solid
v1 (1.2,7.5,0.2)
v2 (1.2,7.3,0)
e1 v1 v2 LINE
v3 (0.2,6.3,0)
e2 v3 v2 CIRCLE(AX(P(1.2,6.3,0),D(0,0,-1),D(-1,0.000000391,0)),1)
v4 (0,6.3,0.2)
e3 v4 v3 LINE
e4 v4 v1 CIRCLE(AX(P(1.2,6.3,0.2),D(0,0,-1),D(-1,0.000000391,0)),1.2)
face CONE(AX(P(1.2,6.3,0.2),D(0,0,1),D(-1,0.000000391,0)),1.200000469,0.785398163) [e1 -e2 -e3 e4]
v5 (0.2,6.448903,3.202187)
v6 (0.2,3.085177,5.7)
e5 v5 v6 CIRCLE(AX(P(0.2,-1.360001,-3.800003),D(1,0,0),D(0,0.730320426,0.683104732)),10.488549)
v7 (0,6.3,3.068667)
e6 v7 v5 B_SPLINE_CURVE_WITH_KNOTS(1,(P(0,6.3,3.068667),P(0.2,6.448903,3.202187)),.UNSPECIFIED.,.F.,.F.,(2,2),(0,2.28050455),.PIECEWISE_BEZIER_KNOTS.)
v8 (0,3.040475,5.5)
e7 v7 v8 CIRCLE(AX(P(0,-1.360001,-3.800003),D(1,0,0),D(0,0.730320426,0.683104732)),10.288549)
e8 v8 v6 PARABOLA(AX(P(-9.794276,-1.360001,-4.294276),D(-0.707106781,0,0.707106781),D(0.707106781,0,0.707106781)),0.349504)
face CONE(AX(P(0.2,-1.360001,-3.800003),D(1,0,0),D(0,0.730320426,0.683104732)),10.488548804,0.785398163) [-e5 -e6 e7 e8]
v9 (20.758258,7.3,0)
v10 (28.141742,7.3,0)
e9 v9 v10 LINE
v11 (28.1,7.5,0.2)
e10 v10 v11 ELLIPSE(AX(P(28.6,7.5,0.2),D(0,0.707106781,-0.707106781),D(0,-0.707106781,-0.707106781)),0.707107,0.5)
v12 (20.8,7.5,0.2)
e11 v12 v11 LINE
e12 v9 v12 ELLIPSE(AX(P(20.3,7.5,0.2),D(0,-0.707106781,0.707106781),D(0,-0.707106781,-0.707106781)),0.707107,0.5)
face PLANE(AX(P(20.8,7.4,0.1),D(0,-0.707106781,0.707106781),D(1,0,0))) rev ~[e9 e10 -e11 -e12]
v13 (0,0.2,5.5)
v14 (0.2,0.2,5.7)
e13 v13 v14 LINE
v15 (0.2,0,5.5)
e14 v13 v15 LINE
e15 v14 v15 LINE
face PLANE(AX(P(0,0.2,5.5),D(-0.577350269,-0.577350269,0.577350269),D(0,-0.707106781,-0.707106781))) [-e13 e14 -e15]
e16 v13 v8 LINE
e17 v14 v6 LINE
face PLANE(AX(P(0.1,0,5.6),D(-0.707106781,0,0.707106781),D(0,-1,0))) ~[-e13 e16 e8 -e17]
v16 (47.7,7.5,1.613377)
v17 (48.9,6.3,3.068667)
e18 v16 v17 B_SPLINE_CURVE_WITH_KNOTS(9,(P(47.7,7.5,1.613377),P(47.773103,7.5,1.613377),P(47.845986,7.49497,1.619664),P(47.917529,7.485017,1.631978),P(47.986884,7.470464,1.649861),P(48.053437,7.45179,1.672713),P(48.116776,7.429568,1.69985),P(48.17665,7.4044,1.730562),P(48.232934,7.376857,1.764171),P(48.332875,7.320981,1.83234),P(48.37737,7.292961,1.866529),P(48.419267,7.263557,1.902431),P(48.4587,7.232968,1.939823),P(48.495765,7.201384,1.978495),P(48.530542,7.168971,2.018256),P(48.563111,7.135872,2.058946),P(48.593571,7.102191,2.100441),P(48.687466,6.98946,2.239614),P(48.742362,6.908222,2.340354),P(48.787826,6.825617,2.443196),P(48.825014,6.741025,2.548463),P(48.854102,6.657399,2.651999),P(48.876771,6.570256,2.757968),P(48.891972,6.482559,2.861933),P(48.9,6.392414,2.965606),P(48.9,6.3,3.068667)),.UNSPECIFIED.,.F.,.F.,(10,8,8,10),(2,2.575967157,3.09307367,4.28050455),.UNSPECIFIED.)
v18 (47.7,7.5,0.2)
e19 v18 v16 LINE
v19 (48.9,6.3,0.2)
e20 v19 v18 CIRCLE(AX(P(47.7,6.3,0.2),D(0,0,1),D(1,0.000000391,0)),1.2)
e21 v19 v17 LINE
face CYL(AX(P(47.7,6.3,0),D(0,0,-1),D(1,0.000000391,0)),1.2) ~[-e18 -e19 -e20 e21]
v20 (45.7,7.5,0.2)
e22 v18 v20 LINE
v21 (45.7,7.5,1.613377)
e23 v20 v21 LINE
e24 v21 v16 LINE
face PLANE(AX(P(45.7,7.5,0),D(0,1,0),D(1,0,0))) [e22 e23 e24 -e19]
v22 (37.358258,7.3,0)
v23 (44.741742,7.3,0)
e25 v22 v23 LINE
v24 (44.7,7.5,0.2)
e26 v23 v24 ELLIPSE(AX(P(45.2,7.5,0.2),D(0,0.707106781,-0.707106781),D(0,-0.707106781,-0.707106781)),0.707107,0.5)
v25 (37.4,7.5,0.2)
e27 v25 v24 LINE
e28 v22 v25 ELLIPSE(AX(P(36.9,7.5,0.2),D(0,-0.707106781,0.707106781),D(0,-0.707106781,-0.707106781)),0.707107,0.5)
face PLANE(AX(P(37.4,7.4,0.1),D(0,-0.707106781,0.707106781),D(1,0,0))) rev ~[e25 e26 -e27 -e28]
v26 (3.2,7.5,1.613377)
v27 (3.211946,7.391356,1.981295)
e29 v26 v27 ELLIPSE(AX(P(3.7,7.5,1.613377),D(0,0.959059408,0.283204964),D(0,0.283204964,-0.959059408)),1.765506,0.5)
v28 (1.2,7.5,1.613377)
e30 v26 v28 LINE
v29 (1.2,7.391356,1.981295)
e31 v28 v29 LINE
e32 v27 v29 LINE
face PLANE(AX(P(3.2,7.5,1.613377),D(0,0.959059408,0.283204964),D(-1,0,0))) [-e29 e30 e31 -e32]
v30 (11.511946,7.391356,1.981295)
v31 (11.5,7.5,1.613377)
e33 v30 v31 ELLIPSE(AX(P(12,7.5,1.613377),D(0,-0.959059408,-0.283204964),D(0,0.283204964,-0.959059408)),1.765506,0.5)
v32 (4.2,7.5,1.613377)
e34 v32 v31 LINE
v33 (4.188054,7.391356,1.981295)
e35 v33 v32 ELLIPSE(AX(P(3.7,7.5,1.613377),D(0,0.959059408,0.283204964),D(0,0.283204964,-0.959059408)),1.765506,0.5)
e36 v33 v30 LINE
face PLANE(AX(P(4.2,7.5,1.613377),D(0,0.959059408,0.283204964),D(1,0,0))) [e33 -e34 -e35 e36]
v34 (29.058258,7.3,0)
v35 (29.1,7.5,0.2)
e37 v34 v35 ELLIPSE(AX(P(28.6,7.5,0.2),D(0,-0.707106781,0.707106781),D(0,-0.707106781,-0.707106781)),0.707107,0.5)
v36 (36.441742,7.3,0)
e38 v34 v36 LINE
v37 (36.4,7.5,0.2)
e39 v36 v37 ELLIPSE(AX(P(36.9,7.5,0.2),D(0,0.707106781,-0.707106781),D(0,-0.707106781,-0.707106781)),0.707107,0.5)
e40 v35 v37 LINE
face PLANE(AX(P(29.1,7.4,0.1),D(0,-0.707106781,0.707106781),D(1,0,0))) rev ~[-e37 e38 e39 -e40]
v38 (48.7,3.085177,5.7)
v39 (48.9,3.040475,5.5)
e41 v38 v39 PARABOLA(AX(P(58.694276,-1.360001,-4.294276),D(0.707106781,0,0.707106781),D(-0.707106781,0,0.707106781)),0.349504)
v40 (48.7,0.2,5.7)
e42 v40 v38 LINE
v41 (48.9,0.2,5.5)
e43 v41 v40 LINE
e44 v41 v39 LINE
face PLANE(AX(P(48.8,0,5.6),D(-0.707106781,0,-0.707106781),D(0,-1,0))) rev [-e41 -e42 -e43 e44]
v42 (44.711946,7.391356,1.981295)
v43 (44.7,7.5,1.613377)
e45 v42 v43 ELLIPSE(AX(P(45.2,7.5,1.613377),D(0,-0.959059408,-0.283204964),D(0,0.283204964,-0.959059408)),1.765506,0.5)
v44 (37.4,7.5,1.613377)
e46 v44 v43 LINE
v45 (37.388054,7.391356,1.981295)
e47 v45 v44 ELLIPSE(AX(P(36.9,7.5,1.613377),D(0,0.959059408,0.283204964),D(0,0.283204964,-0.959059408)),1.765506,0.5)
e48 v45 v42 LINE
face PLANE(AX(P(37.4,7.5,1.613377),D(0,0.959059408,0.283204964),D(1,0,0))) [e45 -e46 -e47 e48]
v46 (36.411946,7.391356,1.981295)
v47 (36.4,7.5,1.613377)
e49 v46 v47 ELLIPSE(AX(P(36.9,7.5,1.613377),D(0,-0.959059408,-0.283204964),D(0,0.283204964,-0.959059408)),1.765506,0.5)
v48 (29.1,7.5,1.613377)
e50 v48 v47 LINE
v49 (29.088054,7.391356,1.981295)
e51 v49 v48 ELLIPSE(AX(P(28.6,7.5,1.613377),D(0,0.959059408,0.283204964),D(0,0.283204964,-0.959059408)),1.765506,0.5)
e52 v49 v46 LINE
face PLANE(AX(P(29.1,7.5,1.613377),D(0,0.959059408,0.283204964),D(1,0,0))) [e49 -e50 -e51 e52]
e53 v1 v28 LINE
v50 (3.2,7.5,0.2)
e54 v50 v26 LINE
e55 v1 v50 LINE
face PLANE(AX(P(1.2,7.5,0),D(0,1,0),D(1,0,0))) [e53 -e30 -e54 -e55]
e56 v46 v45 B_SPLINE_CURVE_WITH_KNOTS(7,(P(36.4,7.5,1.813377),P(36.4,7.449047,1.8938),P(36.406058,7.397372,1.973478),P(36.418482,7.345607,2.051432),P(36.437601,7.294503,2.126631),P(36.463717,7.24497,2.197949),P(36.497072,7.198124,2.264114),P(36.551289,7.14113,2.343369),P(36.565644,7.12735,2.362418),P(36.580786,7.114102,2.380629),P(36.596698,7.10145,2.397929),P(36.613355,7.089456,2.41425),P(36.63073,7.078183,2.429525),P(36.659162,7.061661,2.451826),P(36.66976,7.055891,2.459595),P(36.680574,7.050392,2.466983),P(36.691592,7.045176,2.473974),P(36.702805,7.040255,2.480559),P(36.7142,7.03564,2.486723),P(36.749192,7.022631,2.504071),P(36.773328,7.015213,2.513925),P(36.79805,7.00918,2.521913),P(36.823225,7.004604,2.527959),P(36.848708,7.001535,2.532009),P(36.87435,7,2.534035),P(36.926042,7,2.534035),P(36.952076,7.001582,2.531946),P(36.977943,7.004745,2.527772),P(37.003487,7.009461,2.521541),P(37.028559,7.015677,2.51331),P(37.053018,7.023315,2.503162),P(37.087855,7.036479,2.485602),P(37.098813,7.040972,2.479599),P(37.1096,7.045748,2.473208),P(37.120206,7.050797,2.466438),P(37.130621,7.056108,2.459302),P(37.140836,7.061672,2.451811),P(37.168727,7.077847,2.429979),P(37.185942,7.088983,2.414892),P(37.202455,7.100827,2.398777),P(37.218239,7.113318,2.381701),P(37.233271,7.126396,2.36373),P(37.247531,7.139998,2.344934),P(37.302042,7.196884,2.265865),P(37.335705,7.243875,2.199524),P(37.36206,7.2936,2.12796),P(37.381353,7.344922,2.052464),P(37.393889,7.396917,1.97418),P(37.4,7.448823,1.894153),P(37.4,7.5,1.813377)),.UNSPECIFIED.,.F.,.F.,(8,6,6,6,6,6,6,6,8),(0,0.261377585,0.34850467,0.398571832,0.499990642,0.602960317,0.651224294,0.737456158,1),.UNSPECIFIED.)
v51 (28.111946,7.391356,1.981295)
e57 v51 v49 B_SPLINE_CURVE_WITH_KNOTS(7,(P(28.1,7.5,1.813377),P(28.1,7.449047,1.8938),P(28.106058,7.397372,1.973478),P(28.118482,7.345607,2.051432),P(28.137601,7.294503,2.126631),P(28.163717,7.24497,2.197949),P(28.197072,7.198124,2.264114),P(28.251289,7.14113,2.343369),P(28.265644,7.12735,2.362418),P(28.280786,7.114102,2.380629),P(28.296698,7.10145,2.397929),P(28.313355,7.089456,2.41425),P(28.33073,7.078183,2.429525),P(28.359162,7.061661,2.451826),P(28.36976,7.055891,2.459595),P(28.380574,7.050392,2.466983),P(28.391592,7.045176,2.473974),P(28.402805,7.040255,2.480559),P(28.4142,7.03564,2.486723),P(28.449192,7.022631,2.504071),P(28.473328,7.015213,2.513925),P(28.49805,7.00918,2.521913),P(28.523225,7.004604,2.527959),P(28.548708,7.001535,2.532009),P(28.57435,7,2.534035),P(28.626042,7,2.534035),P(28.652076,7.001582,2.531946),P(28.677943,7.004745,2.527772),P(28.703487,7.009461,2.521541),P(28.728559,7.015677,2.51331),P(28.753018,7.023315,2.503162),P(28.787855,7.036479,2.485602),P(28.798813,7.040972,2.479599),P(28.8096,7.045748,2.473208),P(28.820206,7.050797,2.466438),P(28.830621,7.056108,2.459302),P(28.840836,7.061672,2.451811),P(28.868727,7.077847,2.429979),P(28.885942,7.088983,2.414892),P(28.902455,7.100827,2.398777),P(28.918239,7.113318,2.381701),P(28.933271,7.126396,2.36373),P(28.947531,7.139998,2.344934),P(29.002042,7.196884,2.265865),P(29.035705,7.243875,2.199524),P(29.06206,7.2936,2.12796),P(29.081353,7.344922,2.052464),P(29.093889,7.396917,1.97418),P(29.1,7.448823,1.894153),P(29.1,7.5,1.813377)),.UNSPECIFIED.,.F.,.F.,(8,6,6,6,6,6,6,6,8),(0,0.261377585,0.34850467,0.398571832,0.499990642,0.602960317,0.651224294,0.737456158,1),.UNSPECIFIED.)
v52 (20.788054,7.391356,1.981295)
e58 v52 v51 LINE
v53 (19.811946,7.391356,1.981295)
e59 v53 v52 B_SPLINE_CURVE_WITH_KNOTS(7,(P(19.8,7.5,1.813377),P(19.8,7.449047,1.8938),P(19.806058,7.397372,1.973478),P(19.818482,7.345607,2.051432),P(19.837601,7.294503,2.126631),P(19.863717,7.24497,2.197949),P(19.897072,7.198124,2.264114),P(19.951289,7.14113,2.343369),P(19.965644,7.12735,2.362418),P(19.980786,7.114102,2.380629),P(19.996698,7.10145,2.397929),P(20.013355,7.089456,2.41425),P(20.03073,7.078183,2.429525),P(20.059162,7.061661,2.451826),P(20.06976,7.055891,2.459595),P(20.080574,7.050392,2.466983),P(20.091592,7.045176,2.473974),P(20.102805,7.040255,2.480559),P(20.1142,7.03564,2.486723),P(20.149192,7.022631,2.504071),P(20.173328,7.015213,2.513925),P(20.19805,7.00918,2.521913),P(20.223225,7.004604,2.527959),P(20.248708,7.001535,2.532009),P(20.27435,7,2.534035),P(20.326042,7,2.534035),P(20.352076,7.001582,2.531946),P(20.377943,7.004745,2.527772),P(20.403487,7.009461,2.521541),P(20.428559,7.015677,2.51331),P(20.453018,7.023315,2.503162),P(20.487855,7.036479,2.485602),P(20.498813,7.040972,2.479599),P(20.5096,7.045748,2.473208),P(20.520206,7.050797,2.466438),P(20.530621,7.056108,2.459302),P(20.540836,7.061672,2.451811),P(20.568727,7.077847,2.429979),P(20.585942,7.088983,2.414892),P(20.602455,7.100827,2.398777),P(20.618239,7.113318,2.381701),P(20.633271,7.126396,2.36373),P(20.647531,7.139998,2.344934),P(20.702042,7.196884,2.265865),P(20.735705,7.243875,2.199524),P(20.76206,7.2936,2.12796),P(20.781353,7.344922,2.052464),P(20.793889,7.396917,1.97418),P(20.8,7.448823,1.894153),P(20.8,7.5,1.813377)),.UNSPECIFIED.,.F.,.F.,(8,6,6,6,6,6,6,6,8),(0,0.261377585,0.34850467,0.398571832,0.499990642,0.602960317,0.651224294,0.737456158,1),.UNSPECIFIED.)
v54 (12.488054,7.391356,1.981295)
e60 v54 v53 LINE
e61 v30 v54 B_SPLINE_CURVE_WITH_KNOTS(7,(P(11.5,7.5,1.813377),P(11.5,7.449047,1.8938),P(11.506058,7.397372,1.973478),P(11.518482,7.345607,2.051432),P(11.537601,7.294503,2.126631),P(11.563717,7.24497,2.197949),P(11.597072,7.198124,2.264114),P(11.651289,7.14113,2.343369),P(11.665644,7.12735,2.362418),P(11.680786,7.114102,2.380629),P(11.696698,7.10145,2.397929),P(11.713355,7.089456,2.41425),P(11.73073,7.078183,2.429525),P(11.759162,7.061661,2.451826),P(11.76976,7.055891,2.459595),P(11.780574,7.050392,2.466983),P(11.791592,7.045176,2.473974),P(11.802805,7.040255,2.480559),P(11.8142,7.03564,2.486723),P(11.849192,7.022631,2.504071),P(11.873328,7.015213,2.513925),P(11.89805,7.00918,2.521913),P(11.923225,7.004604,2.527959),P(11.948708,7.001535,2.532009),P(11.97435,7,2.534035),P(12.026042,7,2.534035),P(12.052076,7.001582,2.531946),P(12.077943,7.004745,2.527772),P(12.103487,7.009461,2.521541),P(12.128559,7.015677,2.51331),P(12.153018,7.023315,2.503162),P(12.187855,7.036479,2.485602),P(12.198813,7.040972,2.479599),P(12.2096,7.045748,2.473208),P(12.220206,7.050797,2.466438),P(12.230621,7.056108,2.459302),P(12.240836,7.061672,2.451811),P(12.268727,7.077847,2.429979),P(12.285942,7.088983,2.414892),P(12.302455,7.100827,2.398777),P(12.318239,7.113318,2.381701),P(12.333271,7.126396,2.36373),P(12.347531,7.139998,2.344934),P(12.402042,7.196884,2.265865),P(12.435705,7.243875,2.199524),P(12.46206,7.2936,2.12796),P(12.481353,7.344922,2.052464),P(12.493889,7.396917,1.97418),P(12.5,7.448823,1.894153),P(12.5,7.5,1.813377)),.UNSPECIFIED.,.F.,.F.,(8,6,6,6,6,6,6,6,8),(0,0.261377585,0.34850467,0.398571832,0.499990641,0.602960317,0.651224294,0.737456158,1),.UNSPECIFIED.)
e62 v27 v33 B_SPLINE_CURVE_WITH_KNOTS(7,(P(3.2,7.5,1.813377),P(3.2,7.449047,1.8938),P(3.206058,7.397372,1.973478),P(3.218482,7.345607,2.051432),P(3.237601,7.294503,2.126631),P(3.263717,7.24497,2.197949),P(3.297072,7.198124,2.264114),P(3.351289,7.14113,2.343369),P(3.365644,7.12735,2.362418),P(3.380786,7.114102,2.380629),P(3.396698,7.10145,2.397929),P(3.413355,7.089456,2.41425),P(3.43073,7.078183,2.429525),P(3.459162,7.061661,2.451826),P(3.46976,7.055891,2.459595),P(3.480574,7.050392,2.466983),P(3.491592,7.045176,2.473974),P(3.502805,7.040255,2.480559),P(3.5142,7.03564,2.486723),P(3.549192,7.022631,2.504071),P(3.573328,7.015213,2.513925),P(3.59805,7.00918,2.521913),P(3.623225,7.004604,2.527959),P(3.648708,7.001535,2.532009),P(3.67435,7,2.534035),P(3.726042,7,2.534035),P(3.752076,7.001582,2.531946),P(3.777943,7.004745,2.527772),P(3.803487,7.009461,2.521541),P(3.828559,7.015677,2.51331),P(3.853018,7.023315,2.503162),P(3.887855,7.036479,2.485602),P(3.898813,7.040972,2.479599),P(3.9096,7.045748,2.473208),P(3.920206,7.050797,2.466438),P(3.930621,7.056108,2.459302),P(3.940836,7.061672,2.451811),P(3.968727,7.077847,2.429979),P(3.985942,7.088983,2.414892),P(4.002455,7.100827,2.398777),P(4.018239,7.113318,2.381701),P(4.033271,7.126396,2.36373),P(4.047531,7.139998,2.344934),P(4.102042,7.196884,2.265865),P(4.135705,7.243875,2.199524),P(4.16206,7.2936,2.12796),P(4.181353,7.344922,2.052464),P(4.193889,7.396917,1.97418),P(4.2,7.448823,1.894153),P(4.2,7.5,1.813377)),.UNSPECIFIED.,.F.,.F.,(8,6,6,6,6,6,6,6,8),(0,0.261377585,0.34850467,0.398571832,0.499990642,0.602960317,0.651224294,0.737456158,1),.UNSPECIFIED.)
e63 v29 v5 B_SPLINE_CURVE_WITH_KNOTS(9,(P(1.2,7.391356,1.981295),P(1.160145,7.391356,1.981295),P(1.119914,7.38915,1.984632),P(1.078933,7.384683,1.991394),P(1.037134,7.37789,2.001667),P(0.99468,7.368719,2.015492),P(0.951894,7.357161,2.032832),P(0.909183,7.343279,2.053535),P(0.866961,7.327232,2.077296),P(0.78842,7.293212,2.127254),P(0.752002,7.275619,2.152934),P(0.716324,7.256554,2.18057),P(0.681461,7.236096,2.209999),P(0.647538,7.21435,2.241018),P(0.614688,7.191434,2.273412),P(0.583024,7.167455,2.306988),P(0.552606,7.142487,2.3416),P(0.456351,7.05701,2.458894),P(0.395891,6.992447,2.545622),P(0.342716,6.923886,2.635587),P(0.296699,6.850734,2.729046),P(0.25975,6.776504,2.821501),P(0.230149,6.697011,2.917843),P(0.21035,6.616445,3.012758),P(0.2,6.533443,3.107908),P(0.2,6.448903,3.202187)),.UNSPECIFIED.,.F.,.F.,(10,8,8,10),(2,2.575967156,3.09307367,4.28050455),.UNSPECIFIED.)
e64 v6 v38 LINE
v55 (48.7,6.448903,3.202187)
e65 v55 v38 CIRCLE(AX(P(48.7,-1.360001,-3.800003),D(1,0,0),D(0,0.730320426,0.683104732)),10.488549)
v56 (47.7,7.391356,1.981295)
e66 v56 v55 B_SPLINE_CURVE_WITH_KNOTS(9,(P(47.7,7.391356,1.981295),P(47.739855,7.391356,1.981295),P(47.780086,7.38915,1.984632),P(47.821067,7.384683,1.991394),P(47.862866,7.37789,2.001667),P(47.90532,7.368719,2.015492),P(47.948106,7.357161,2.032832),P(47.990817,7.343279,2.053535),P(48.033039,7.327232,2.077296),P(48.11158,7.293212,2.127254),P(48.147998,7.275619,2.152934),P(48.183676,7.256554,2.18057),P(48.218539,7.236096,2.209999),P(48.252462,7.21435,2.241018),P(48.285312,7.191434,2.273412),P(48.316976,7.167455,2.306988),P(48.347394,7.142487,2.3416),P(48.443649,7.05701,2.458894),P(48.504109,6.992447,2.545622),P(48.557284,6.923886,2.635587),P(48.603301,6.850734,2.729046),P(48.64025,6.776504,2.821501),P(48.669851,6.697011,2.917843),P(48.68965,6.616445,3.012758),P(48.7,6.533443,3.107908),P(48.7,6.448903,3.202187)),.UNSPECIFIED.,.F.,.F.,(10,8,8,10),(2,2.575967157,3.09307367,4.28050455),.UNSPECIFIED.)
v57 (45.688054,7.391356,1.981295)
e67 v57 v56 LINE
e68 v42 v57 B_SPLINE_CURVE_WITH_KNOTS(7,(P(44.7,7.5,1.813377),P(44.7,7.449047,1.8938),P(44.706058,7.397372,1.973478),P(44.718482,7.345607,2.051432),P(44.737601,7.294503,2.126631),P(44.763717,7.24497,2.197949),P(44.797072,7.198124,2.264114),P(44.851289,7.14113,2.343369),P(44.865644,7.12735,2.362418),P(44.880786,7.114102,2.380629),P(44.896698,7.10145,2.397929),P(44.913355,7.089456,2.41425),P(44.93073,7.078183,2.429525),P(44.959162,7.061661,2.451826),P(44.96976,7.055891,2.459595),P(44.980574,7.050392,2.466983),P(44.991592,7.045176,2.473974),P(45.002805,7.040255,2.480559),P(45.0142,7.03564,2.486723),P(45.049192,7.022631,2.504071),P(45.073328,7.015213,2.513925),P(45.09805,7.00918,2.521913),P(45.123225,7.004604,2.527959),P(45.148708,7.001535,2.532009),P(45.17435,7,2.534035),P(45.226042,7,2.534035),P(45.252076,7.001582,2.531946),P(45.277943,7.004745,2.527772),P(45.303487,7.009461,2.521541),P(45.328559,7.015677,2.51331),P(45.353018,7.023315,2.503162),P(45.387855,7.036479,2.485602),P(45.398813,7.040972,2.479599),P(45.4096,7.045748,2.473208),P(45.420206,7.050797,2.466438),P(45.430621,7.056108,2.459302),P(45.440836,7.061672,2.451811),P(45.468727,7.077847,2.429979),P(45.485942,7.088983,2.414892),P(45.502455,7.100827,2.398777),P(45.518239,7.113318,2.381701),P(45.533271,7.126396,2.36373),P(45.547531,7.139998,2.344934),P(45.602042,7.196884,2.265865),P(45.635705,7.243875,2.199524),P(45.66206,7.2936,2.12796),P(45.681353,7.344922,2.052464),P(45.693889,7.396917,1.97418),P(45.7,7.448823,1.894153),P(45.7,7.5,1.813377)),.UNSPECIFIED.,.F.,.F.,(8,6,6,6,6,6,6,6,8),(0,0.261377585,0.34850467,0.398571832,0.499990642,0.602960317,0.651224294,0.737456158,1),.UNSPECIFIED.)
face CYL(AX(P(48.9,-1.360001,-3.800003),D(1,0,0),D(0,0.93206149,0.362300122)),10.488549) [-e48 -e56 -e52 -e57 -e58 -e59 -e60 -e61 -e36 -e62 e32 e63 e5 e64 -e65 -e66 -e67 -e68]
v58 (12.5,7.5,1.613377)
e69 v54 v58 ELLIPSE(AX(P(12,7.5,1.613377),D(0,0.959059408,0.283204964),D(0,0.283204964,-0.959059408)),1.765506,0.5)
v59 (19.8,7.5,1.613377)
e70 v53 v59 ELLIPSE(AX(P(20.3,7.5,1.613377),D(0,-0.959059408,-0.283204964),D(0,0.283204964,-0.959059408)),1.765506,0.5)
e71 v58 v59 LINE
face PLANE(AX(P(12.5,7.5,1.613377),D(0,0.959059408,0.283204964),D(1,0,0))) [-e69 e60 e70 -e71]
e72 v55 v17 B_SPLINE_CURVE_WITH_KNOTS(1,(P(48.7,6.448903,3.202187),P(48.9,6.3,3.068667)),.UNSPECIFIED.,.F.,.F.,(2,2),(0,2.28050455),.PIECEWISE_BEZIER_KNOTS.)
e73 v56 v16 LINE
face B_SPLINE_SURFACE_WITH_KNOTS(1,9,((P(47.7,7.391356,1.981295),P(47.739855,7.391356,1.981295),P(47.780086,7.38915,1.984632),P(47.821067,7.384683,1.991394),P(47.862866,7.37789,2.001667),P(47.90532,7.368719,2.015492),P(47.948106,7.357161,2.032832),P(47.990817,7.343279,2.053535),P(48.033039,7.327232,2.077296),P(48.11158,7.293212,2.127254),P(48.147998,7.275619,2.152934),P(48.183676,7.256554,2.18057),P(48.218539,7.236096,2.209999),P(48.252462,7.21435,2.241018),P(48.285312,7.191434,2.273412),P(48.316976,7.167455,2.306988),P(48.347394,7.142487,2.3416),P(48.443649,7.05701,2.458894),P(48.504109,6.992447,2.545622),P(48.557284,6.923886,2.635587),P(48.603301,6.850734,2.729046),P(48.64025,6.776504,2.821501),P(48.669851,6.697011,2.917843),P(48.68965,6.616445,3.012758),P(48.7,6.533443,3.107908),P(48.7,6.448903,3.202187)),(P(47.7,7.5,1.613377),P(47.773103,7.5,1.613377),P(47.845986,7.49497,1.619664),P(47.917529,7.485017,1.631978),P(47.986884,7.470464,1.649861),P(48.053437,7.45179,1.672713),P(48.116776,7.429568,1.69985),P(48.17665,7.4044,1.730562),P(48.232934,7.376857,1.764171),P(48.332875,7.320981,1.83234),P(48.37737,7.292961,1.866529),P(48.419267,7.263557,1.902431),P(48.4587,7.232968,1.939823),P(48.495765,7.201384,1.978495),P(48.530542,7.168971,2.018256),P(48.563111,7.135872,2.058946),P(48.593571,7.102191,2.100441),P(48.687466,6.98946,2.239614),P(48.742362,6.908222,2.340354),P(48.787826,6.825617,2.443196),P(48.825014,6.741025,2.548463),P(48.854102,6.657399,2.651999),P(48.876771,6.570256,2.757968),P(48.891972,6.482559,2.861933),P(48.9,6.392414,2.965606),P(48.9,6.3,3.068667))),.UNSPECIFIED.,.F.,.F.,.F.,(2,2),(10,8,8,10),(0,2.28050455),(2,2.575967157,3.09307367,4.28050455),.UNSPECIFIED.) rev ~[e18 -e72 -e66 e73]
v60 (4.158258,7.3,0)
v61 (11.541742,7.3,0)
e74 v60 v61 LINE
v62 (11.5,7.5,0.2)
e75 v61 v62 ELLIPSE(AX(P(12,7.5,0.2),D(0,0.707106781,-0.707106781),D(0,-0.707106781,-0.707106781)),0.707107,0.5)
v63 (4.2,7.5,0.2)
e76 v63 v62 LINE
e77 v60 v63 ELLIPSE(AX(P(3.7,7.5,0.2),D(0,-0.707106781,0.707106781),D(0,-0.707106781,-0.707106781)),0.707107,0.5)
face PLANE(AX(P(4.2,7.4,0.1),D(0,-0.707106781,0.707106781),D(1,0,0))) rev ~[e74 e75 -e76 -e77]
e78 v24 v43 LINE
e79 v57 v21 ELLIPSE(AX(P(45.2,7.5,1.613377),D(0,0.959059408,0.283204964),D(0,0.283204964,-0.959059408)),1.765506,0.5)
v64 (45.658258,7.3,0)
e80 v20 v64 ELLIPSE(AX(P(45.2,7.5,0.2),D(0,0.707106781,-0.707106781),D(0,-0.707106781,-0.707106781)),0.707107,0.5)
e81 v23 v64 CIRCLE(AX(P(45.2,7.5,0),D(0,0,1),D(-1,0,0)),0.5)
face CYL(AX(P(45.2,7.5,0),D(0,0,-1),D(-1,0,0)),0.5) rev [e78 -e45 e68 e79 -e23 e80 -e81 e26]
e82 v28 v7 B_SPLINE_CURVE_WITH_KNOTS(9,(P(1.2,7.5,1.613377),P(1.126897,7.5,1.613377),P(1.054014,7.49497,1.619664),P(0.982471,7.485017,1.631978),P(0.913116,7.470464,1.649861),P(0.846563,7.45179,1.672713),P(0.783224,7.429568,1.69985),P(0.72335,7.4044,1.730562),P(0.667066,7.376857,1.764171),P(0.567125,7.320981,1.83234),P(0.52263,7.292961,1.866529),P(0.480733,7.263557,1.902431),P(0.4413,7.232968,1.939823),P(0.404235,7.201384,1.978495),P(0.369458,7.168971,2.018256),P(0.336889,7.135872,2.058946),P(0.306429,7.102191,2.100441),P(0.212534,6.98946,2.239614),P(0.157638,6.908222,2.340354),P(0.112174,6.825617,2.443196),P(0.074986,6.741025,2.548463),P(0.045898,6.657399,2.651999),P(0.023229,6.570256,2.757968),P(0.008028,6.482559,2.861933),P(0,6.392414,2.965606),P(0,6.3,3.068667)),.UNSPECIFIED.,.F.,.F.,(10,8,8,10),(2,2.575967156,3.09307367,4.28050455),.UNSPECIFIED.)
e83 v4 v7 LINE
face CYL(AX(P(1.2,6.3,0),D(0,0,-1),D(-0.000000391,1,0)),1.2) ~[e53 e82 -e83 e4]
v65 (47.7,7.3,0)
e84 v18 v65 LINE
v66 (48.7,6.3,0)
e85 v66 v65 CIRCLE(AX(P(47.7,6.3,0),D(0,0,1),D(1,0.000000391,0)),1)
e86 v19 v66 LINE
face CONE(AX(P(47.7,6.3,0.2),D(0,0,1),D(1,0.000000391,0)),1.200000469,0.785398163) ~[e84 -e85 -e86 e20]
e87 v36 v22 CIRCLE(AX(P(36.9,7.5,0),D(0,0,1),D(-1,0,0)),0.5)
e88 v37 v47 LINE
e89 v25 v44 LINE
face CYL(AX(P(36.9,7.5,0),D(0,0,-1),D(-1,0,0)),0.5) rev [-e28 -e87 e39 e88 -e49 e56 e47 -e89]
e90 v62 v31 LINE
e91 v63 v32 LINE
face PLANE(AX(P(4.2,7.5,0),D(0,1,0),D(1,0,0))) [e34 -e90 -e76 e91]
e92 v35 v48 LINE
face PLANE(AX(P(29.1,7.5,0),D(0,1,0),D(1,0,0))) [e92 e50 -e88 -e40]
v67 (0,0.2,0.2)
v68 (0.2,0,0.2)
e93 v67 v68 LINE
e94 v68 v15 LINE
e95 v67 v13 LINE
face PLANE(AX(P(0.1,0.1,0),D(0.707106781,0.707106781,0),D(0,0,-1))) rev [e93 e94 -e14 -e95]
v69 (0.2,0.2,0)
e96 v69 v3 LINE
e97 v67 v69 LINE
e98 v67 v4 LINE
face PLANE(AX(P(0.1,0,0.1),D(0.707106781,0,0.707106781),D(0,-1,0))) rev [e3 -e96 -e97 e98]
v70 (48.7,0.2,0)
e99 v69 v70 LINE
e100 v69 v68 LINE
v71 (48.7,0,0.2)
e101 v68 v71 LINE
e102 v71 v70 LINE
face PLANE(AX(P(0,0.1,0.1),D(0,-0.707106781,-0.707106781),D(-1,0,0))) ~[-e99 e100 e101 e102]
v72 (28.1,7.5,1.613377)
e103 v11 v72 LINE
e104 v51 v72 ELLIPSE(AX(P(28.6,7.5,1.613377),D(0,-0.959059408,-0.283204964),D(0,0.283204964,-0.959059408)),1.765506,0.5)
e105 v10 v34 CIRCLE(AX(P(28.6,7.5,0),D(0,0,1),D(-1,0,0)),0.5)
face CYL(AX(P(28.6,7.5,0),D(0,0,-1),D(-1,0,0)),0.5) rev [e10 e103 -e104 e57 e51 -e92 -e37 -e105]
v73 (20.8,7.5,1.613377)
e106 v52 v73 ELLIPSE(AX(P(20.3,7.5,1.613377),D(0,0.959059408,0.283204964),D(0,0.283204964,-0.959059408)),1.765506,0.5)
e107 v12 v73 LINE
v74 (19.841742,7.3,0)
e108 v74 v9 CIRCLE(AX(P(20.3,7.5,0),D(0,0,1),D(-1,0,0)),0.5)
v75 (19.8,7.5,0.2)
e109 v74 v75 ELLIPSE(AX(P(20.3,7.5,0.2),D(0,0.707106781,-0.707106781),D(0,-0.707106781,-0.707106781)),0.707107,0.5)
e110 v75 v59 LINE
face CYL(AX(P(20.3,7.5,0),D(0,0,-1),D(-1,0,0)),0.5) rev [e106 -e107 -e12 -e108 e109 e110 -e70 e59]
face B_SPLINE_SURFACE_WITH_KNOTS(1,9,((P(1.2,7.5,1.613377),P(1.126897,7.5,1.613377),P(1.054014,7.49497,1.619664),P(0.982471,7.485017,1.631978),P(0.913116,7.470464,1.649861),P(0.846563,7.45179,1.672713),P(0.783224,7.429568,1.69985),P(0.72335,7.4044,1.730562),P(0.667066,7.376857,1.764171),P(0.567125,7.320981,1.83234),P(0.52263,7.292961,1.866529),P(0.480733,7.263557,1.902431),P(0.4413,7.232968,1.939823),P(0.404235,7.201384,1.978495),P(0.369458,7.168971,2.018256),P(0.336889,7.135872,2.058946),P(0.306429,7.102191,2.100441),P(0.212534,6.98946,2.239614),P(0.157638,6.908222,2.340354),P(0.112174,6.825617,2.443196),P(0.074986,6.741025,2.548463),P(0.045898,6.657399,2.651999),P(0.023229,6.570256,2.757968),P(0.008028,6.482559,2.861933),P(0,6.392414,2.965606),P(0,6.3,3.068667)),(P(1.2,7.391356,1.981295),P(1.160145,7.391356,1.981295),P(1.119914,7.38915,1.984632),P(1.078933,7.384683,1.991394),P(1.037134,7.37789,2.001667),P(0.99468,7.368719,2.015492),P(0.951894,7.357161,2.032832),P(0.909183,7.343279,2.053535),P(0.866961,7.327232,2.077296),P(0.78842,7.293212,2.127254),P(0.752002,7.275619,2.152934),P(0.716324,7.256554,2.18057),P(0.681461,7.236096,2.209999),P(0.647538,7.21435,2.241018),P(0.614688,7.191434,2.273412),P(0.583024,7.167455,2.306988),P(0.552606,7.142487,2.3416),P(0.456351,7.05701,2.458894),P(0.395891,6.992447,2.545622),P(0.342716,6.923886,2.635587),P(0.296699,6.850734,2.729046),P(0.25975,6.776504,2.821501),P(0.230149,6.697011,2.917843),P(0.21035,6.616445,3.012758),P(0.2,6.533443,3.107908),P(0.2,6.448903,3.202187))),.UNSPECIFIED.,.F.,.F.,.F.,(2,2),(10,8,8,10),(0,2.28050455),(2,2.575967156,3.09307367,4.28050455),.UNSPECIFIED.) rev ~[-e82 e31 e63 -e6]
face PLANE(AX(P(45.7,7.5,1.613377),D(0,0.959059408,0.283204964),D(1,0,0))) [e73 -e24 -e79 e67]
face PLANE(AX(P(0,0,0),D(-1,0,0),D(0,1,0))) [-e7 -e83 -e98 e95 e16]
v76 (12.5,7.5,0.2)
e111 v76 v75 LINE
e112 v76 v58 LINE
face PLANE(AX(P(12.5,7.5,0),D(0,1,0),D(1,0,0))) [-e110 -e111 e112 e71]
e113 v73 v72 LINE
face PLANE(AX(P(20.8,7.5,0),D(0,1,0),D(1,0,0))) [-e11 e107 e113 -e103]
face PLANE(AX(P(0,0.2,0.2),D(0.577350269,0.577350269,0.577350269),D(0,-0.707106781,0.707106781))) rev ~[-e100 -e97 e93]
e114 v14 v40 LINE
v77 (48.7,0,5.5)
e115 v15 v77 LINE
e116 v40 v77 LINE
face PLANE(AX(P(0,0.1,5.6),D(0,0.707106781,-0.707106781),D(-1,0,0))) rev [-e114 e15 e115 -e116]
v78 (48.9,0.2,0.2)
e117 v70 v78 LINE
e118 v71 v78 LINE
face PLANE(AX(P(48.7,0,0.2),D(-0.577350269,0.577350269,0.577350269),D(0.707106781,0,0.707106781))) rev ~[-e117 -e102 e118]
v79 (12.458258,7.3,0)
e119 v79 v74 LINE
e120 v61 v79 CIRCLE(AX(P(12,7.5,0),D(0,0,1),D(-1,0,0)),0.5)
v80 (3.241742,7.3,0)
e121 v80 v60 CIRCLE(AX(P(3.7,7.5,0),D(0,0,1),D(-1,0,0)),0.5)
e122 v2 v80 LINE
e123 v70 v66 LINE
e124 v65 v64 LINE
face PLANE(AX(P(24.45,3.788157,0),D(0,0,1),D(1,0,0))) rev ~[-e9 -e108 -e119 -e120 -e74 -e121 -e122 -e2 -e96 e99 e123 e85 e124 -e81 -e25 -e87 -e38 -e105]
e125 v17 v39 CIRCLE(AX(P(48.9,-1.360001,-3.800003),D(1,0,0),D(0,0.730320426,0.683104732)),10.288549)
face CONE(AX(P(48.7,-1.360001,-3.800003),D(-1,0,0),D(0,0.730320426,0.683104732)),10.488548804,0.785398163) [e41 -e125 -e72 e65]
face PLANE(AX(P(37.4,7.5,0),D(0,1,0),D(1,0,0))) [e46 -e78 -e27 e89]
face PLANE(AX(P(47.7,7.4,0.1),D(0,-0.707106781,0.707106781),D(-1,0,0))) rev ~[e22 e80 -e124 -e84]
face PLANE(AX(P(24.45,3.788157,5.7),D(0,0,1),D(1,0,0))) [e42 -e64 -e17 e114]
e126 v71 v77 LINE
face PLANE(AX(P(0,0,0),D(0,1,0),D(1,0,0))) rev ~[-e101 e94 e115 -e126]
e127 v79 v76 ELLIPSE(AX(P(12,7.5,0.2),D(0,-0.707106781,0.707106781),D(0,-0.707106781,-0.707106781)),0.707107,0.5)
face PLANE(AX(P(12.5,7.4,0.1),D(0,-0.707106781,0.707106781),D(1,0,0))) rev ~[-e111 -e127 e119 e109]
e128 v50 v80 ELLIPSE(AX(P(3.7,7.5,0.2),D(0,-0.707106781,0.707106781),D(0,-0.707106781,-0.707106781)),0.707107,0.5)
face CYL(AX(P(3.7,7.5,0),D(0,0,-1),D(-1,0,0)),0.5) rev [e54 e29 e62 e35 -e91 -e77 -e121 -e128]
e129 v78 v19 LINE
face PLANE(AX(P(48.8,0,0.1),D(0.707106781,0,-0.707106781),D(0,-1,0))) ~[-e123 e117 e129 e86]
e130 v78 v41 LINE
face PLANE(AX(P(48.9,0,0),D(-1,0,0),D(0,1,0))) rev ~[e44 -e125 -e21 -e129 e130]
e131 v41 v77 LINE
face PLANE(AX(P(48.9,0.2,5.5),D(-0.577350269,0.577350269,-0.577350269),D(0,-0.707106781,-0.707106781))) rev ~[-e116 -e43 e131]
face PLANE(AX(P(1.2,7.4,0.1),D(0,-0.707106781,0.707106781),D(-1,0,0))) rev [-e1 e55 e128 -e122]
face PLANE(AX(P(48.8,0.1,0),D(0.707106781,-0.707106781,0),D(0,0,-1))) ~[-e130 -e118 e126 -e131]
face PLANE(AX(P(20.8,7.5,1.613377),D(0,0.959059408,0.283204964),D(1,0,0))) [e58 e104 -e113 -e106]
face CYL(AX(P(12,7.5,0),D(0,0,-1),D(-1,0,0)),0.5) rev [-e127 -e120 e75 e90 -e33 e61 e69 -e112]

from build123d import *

# Parameters (mm, degrees)
PAD_DEPTH    = 5.7
POCKET_DEPTH = 48.9
CHAMFER_SIZE = 0.2


with BuildPart() as part:
    # Sketch → Pad (new body)
    with BuildSketch(Plane.XY):
        with BuildLine():
            Line((0, 0), (48.9, 0))
            Line((48.9, 0), (48.9, 6.3))
            ThreePointArc((48.9, 6.3), (48.548528, 7.148528), (47.7, 7.5))
            Line((45.7, 7.5), (47.7, 7.5))
            ThreePointArc((44.7, 7.5), (45.2, 7), (45.7, 7.5))
            Line((37.4, 7.5), (44.7, 7.5))
            ThreePointArc((36.4, 7.5), (36.9, 7), (37.4, 7.5))
            Line((29.1, 7.5), (36.4, 7.5))
            ThreePointArc((28.1, 7.5), (28.6, 7), (29.1, 7.5))
            Line((20.8, 7.5), (28.1, 7.5))
            ThreePointArc((19.8, 7.5), (20.3, 7), (20.8, 7.5))
            Line((12.5, 7.5), (19.8, 7.5))
            ThreePointArc((11.5, 7.5), (12, 7), (12.5, 7.5))
            Line((4.2, 7.5), (11.5, 7.5))
            ThreePointArc((3.2, 7.5), (3.7, 7), (4.2, 7.5))
            Line((1.2, 7.5), (3.2, 7.5))
            ThreePointArc((1.2, 7.5), (0.351472, 7.148528), (0, 6.3))
            Line((0, 0), (0, 6.3))
        make_face()
    extrude(amount=PAD_DEPTH)

    # Sketch001 (on Face5 of Pad) → Pocket (cut)
    with BuildSketch(Plane.YZ.offset(48.9)):
        with BuildLine():
            ThreePointArc((8.415971, 0), (5.112438, 4.453311), (0, 6.6))
            Line((0, 6.6), (8.415971, 6.6))
            Line((8.415971, 0), (8.415971, 6.6))
        make_face()
    extrude(amount=-POCKET_DEPTH, mode=Mode.SUBTRACT)

    # Chamfer
    chamfer_edges = [part.edges().sort_by_distance(p)[0] for p in [
        (48.9, 3.15, 0),
        (24.45, 0, 0),
        (0, 3.15, 0),
        (7.85, 7.5, 0),
        (16.15, 7.5, 0),
        (24.45, 7.5, 0),
        (32.75, 7.5, 0),
        (41.05, 7.5, 0),
        (0, 4.804183, 4.686015),
        (7.85, 7.5, 1.813377),
        (16.15, 7.5, 1.813377),
        (24.45, 7.5, 1.813377),
        (32.75, 7.5, 1.813377),
        (41.05, 7.5, 1.813377),
        (46.7, 7.5, 1.813377),
        (24.45, 0, 5.7),
        (48.9, 1.542589, 5.7),
        (0, 1.542589, 5.7),
        (48.9, 4.804183, 4.686015),
        (0, 0, 2.85),
        (48.9, 0, 2.85),
    ]]
    chamfer(chamfer_edges, length=CHAMFER_SIZE)


solid = part.part
